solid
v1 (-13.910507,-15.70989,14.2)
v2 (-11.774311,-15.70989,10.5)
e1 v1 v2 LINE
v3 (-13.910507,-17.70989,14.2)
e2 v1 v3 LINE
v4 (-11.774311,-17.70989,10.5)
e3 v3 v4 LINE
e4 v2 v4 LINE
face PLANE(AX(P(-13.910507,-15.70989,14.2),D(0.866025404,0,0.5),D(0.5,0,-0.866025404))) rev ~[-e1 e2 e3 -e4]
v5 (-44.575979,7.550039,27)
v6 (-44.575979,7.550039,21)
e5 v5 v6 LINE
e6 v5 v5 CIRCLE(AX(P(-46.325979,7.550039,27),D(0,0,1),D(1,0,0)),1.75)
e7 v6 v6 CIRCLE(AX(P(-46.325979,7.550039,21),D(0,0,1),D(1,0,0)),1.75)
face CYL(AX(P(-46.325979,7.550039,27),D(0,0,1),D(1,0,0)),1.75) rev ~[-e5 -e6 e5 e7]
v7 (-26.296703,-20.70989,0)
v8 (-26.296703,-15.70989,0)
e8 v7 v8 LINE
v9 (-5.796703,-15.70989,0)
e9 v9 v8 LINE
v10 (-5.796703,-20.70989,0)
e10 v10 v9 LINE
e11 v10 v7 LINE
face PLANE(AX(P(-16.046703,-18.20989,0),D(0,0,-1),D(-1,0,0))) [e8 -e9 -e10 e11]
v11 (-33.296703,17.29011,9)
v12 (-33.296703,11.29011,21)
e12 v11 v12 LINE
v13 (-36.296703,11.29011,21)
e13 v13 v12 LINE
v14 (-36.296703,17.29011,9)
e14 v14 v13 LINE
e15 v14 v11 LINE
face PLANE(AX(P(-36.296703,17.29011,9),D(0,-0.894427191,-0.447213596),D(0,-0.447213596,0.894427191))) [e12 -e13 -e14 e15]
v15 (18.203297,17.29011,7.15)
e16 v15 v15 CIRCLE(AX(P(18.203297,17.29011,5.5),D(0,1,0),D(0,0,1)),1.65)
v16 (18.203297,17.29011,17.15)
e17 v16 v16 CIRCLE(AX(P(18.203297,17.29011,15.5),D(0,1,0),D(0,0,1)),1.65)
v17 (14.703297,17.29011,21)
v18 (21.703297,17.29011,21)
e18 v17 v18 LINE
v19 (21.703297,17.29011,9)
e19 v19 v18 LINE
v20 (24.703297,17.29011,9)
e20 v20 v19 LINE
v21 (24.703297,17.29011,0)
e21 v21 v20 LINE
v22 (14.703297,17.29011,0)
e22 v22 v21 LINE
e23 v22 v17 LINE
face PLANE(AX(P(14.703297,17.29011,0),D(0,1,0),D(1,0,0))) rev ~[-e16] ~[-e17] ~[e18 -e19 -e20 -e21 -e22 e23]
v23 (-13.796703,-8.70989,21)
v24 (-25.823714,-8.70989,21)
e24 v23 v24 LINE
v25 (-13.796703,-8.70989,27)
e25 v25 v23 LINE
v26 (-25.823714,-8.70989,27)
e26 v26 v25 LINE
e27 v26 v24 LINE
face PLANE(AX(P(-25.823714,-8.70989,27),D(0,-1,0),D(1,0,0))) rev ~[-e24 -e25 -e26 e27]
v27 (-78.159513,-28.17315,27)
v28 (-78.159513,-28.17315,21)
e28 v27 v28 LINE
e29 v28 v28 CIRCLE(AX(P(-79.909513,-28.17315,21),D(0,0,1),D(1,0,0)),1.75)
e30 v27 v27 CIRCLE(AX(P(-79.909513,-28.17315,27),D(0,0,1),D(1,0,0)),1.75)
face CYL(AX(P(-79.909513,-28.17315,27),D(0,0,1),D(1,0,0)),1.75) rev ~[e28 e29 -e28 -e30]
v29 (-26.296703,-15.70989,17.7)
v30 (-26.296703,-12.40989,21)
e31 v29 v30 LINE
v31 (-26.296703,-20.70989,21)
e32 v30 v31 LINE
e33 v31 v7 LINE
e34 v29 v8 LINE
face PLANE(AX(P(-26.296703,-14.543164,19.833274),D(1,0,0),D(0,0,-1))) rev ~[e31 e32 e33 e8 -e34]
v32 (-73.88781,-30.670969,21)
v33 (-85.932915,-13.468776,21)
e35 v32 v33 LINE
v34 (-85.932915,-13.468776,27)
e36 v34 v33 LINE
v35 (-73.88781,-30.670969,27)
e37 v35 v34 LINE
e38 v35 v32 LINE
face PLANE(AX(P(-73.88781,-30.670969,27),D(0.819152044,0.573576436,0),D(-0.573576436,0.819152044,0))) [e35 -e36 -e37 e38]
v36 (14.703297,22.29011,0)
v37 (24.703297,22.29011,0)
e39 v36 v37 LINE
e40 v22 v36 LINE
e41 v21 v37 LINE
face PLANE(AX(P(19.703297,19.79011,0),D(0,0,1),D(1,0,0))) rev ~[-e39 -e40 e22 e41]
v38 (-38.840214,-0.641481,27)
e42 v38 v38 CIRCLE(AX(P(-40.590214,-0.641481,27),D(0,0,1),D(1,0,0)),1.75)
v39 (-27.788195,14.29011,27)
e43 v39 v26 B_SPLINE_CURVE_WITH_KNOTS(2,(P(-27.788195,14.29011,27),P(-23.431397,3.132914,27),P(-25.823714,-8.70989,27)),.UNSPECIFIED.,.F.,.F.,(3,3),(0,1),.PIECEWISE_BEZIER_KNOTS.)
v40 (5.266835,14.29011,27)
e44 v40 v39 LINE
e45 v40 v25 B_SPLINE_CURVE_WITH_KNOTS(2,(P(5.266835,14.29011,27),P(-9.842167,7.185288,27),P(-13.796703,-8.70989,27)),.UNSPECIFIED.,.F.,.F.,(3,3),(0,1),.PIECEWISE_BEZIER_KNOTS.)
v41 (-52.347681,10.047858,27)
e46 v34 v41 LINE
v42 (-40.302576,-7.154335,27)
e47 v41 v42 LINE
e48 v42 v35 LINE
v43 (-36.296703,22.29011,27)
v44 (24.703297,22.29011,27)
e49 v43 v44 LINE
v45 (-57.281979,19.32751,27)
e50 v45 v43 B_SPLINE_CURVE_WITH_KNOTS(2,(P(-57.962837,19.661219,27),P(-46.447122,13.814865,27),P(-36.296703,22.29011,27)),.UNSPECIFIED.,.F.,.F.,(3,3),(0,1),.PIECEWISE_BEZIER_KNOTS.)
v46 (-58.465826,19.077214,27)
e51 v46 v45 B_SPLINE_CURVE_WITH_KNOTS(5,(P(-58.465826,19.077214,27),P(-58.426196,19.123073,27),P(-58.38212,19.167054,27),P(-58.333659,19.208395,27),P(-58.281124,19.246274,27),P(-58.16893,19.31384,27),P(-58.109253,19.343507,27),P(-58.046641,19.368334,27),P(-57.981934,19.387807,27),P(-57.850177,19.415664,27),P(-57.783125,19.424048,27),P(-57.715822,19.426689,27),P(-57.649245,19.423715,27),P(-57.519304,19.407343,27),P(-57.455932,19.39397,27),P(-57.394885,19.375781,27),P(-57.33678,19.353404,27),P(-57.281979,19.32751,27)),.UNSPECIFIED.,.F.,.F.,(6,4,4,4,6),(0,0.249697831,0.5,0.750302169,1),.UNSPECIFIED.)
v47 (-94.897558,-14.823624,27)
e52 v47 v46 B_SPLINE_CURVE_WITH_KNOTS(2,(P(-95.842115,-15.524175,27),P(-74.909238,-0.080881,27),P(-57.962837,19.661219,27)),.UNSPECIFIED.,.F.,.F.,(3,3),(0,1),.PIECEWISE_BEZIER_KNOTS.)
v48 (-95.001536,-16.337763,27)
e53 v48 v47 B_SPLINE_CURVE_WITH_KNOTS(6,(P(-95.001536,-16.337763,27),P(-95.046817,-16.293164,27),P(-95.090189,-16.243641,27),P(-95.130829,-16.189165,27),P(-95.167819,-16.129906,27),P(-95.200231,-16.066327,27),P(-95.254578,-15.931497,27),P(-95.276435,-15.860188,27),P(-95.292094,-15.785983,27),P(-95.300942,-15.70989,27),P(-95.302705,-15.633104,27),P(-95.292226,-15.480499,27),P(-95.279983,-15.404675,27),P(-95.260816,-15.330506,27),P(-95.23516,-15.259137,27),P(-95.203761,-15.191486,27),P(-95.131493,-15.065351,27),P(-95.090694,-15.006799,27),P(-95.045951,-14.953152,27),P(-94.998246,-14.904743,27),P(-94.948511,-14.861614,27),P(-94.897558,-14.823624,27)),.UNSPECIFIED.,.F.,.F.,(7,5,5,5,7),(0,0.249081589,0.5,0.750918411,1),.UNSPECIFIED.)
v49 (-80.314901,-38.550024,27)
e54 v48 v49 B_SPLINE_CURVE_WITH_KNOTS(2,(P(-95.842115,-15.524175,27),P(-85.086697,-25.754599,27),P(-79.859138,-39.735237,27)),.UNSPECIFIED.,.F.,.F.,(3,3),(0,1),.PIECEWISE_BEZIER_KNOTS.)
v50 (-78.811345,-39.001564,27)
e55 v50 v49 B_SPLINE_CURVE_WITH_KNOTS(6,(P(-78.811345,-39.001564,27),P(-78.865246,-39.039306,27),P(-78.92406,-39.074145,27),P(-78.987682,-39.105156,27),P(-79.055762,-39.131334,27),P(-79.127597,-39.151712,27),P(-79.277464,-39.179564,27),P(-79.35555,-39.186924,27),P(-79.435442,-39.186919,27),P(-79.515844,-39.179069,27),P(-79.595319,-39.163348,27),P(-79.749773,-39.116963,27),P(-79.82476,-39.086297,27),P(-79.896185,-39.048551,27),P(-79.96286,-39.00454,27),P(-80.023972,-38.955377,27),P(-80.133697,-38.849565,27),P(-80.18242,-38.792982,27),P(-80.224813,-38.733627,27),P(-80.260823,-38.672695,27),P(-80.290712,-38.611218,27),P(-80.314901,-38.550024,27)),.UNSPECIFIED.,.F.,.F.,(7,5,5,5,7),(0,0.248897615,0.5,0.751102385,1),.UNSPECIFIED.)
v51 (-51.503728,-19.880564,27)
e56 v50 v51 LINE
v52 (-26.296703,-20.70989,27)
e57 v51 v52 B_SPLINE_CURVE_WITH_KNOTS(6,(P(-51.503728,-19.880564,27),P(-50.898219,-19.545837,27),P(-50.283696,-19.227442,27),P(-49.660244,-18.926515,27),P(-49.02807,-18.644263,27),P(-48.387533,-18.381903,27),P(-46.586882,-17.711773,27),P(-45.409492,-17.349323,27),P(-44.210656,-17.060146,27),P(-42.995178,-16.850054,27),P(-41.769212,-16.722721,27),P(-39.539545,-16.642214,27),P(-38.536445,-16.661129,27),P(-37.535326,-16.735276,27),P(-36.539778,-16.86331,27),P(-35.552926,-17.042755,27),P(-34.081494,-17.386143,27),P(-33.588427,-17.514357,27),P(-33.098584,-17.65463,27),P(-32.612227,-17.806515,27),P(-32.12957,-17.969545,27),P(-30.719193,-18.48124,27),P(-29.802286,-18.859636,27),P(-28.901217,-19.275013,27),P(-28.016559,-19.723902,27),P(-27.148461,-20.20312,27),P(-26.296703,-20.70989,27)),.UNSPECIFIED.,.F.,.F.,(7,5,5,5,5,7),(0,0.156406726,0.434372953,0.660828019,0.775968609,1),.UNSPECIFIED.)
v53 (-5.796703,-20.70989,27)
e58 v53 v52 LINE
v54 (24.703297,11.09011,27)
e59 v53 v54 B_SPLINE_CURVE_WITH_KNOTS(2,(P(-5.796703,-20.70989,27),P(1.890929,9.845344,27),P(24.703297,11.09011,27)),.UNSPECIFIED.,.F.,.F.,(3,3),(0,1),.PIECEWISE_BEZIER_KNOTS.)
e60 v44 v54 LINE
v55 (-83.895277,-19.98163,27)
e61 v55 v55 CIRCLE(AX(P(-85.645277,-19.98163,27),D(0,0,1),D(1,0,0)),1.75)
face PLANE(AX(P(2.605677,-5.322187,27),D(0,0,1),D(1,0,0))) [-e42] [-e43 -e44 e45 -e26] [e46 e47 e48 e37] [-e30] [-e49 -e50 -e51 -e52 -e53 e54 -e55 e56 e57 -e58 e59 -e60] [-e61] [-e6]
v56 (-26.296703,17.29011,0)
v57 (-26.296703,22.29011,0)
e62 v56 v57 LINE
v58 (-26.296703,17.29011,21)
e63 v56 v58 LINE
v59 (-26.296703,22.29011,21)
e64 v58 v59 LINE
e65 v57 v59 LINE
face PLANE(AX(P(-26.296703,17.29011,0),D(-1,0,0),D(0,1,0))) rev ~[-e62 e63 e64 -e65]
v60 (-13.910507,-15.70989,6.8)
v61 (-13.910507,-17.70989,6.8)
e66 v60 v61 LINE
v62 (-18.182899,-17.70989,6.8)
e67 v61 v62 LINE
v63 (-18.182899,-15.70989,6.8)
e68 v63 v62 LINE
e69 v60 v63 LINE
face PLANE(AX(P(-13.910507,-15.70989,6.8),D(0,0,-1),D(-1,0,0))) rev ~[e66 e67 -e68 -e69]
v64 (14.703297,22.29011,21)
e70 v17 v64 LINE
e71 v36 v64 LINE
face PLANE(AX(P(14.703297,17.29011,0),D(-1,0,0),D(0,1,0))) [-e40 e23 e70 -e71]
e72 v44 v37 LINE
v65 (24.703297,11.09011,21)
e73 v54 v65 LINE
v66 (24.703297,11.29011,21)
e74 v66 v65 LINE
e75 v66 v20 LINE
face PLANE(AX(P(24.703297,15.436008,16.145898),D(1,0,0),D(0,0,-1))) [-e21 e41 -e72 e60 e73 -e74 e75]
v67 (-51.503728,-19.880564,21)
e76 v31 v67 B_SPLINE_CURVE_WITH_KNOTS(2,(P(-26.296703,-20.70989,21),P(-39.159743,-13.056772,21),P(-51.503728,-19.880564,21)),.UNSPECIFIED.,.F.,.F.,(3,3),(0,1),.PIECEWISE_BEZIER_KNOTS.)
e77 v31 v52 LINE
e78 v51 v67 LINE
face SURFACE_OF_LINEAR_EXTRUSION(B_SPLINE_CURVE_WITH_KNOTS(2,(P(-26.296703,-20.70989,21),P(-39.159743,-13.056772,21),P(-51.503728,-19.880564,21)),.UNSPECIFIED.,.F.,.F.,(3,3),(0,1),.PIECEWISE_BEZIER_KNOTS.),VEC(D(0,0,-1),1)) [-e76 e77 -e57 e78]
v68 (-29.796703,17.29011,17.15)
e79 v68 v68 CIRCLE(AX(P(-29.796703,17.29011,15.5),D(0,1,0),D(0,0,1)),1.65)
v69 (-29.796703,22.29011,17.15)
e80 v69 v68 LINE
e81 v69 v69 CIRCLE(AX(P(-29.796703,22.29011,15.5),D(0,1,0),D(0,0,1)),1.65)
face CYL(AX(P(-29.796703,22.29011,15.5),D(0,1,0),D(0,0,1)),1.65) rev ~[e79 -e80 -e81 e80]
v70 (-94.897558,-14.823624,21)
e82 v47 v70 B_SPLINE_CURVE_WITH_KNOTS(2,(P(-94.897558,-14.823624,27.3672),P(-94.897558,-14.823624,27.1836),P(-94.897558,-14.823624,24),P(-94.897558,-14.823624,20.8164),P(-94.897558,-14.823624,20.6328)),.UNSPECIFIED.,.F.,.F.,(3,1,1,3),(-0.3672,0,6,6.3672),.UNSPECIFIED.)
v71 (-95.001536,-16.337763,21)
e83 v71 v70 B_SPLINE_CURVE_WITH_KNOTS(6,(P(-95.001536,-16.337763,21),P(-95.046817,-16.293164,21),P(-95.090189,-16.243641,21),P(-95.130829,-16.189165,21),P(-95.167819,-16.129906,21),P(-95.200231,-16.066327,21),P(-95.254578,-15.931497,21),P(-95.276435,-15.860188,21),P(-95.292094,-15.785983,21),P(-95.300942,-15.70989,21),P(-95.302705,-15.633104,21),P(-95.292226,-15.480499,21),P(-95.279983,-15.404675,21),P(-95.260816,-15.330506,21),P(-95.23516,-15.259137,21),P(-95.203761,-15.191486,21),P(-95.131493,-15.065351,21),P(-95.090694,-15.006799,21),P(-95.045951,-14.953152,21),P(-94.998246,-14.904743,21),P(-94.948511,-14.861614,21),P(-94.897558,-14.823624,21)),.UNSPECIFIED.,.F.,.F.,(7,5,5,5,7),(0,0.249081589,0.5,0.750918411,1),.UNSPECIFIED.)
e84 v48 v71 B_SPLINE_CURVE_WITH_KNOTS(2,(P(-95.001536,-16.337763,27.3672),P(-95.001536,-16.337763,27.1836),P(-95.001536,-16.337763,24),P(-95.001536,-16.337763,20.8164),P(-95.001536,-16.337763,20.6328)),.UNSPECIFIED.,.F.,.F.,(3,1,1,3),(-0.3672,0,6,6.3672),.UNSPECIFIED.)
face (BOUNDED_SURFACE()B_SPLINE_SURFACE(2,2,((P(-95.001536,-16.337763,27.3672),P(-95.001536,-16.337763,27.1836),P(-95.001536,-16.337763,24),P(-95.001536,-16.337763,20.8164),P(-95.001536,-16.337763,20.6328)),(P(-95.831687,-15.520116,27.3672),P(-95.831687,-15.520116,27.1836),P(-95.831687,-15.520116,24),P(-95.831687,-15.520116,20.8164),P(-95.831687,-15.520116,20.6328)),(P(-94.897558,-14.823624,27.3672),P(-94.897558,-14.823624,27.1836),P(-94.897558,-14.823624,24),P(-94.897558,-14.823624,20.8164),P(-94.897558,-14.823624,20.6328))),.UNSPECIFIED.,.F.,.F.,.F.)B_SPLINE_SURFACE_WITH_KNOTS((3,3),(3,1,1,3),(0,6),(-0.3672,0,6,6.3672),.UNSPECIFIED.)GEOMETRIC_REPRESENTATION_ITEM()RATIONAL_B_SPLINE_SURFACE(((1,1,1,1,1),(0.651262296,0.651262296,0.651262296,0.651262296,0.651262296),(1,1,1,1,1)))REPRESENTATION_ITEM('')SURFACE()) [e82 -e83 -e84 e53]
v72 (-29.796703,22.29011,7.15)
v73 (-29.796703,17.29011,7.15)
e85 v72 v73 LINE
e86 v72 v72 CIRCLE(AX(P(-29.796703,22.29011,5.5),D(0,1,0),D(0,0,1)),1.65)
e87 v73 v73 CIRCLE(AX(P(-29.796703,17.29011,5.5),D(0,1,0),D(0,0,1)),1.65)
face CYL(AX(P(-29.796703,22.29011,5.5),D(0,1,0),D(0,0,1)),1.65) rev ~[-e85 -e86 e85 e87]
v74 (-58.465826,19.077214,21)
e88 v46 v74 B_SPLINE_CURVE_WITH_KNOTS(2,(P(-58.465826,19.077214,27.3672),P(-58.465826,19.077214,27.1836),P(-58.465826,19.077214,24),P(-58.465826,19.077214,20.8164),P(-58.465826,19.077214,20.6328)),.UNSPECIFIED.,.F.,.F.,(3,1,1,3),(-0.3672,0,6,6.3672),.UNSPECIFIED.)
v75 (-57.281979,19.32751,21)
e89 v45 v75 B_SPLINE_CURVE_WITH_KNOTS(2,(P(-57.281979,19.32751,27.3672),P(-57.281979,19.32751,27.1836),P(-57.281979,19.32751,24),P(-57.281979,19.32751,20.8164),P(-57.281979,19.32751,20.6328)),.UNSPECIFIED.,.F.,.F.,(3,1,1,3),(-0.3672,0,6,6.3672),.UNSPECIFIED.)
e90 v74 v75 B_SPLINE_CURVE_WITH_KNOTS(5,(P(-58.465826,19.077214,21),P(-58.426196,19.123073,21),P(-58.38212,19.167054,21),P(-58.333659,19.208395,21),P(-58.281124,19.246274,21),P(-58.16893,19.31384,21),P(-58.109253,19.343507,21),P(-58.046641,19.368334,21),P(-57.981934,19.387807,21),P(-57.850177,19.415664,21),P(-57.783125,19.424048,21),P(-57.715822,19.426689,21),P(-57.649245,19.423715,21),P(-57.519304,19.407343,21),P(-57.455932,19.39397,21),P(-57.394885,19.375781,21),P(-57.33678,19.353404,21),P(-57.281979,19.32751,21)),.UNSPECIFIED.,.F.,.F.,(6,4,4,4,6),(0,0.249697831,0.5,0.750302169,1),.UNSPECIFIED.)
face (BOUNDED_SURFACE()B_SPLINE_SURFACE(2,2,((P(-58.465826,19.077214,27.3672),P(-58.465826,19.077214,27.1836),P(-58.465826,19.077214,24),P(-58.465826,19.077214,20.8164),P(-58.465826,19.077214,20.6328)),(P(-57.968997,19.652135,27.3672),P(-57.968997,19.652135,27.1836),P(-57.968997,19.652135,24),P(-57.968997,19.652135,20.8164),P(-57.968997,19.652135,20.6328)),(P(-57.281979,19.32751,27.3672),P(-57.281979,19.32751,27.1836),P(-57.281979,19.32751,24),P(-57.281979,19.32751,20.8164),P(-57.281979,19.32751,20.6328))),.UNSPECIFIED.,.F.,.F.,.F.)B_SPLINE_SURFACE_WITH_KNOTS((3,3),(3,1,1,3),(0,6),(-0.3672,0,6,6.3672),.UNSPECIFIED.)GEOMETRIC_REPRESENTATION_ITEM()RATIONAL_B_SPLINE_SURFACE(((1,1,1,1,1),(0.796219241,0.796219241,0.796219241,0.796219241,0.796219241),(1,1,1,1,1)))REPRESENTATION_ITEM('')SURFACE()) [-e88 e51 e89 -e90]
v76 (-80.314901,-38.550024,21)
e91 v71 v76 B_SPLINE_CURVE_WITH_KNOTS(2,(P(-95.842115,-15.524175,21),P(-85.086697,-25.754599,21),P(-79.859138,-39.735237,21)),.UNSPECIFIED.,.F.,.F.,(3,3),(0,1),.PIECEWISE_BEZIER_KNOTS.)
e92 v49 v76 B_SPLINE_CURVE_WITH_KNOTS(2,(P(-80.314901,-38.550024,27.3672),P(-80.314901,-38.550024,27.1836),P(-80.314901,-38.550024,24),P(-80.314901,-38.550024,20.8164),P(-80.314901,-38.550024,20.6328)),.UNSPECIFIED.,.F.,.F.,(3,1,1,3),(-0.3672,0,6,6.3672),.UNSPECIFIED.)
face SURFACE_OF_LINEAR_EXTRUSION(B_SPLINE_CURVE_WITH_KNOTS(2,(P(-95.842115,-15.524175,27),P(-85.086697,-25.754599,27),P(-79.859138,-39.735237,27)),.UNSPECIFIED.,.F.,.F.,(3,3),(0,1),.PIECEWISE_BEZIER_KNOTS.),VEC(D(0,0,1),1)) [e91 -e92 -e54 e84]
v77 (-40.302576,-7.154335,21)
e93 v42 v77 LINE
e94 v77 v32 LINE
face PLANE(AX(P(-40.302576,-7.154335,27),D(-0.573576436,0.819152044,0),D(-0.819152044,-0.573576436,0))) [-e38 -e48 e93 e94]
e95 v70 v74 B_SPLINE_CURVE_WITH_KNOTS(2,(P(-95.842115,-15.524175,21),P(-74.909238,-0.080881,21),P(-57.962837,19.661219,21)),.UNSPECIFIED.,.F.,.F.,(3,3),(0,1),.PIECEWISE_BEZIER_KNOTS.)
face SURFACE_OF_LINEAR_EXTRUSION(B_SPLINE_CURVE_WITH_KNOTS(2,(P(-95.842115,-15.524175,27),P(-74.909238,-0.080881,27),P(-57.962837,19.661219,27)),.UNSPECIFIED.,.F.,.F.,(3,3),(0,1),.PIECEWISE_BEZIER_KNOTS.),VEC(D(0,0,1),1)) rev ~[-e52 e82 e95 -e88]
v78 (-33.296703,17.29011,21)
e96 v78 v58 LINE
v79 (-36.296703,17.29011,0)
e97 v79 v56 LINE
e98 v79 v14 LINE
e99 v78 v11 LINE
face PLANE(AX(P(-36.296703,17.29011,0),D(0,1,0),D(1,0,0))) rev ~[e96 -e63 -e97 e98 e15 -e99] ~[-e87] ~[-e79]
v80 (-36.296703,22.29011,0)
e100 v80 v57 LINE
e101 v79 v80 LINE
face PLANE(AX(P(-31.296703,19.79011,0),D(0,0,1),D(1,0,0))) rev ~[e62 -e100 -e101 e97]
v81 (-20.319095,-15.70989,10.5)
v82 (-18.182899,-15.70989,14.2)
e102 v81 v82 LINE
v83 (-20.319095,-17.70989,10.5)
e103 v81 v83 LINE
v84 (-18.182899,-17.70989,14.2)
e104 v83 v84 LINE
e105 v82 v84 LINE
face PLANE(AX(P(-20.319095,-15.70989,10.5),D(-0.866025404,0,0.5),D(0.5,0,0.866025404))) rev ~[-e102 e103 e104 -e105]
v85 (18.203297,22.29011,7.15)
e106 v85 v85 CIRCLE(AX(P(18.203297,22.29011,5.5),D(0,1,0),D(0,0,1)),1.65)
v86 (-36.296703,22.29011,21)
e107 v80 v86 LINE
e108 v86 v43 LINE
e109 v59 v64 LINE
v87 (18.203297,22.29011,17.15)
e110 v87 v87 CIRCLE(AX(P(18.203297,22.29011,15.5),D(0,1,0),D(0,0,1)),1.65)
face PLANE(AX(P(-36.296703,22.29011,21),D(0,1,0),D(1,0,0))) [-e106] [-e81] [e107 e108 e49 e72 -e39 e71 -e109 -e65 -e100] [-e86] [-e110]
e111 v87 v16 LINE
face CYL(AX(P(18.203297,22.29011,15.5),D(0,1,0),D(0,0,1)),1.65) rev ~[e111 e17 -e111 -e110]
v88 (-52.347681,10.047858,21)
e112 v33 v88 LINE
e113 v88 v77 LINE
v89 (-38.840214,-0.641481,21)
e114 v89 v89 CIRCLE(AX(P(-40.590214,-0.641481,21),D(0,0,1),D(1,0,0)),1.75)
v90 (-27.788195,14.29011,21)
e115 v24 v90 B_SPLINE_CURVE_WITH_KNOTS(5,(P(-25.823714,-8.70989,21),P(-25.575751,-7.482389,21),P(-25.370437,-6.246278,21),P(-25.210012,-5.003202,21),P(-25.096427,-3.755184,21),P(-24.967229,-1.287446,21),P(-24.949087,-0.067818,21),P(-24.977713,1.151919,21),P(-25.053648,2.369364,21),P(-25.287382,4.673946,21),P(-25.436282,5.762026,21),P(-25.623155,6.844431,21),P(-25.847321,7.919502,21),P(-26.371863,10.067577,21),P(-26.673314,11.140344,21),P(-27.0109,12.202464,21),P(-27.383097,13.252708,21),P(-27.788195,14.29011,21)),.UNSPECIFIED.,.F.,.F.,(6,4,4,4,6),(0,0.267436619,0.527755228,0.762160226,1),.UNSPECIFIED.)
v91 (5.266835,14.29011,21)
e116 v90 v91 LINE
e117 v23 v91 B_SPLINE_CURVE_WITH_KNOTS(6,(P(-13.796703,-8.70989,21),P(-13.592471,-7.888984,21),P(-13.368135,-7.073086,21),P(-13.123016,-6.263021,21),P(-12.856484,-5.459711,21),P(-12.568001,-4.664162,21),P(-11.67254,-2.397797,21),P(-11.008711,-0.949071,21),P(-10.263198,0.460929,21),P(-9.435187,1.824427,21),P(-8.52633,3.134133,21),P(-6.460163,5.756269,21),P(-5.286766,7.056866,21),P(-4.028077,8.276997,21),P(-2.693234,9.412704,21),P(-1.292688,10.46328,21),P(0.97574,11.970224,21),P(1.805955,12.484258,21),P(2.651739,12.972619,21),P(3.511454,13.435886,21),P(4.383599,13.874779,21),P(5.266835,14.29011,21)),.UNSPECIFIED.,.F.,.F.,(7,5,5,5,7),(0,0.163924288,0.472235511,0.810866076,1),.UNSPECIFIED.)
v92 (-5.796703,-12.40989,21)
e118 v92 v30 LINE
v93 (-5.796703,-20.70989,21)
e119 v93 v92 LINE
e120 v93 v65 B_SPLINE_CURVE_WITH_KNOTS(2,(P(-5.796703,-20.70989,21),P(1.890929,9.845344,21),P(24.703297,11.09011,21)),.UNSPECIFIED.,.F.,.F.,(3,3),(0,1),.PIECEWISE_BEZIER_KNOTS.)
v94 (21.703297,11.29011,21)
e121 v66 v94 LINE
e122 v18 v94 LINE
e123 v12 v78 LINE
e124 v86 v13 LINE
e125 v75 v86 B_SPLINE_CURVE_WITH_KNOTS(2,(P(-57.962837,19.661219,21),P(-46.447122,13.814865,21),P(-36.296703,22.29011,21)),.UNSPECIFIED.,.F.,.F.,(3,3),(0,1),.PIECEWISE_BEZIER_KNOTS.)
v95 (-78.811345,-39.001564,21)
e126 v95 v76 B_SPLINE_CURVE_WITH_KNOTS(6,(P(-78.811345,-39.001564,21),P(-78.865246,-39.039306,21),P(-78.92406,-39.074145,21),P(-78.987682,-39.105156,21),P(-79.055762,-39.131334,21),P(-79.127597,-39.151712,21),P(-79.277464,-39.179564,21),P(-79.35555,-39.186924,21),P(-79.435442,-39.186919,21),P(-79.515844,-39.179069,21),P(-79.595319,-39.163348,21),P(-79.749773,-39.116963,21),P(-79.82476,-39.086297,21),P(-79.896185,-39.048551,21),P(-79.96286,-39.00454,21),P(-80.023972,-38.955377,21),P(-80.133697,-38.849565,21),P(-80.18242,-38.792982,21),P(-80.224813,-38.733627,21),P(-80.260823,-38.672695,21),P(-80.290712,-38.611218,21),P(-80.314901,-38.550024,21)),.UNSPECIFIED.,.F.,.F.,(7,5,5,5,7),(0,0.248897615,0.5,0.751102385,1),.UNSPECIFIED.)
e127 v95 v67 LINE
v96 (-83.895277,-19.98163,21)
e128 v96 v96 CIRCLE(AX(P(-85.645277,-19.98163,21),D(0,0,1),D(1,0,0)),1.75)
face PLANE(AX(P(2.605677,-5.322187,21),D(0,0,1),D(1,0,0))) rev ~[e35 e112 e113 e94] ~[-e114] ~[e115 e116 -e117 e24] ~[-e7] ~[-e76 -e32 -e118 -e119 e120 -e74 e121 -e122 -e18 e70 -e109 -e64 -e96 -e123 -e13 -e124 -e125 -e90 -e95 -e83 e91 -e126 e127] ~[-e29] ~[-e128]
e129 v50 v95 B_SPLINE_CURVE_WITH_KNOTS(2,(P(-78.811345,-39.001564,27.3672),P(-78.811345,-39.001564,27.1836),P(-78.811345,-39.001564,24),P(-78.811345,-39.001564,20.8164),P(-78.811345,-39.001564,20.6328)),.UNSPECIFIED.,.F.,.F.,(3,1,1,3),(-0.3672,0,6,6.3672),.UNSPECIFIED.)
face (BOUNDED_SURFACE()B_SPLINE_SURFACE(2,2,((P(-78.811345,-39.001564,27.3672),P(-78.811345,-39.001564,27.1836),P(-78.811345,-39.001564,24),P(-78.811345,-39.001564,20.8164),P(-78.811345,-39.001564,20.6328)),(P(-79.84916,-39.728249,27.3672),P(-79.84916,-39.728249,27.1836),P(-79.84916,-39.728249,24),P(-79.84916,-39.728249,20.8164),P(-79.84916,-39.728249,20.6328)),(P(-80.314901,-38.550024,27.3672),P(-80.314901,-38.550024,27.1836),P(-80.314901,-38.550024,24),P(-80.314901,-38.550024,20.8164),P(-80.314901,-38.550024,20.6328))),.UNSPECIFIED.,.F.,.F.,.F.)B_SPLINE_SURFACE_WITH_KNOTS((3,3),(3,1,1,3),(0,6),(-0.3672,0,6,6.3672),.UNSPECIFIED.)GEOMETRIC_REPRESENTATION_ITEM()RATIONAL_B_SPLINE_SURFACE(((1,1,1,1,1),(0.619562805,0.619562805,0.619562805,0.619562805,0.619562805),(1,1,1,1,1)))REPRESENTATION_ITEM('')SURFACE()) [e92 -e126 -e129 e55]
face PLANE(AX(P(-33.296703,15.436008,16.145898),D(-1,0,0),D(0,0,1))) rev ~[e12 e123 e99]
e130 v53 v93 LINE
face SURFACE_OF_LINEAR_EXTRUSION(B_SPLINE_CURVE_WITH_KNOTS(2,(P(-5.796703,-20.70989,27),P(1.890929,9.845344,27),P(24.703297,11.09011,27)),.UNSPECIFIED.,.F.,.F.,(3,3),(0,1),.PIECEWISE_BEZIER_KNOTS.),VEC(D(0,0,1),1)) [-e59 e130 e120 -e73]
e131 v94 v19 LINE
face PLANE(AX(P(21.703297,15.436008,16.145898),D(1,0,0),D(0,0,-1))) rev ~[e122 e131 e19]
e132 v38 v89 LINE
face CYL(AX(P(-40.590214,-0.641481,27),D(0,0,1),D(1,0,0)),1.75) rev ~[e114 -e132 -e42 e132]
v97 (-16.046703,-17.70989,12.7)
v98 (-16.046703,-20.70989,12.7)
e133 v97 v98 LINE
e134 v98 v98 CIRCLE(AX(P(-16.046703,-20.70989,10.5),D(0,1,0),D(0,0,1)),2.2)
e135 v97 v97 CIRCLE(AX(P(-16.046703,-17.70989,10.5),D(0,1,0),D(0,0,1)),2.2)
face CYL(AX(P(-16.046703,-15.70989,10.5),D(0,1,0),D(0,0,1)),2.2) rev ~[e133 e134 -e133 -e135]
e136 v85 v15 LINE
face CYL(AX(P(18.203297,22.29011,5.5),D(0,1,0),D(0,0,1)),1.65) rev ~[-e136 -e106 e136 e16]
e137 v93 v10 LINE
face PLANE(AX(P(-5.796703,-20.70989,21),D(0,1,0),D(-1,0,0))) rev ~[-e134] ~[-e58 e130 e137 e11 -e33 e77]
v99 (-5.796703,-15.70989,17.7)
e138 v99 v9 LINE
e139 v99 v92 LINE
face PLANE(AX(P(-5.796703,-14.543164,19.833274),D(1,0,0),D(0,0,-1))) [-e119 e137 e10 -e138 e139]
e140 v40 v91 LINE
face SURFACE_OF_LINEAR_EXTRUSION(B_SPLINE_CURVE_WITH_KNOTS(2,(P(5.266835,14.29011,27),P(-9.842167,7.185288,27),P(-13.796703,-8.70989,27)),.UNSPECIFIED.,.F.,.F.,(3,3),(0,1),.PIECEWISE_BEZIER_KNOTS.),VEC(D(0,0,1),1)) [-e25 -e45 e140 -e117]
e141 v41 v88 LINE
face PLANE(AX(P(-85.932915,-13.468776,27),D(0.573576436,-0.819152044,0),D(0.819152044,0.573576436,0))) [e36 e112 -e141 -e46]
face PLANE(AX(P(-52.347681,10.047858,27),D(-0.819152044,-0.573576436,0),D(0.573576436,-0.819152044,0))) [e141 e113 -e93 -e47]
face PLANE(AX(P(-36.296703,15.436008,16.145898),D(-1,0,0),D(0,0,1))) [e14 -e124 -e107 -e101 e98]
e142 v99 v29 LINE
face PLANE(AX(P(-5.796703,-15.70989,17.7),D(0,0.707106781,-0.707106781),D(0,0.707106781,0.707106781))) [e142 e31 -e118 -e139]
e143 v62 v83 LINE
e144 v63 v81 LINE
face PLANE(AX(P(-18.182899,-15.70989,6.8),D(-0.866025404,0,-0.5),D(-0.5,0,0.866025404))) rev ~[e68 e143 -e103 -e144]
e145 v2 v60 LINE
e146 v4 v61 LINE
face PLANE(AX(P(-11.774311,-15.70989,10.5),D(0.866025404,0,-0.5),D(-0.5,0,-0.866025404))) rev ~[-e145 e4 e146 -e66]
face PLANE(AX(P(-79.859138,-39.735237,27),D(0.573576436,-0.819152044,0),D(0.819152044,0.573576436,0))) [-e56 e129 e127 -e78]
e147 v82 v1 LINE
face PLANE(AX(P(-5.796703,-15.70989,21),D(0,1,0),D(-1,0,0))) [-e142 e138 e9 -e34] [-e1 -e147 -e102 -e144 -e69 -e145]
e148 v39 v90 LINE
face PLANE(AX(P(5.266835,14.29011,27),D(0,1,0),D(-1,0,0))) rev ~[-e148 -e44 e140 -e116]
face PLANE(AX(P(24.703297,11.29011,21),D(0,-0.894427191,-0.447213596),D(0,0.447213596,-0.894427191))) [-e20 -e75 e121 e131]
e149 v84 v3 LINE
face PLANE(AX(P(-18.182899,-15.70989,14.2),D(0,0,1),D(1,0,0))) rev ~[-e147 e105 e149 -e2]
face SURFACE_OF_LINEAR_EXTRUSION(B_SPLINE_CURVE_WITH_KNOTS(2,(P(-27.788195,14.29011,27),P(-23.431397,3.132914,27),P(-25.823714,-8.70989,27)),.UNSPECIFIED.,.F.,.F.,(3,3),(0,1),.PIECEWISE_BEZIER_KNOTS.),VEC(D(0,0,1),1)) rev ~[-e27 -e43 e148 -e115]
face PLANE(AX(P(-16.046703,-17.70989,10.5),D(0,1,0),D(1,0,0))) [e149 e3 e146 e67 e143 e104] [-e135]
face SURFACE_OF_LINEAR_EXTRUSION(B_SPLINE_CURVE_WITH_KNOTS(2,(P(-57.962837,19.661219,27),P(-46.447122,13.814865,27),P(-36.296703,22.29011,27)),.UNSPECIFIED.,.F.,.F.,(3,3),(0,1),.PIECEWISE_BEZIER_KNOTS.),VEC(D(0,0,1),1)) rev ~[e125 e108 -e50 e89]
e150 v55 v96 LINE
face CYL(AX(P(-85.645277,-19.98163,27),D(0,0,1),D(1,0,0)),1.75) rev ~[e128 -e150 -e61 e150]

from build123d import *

# Parameters (mm, degrees)
SKETCH1_W             = 10
SKETCH1_H             = 5
BOSS_EXTRUDE1_DEPTH   = 21
BOSS_EXTRUDE1_2_DEPTH = 21
BOSS_EXTRUDE2_DEPTH   = 6
SKETCH3_W             = 20.5
SKETCH3_H             = 5
BOSS_EXTRUDE3_DEPTH   = 21
CUT_EXTRUDE1_REACH    = 64.414
SKETCH4_R             = 1.65
CUT_EXTRUDE2_REACH    = 61.08
SKETCH5_R             = 2.2
SKETCH6_R             = 1.75
BOSS_EXTRUDE4_DEPTH   = 6
CUT_EXTRUDE3_REACH    = 107.857
CUT_EXTRUDE7_REACH    = 109.208
BOSS_EXTRUDE5_DEPTH   = 6
BOSS_EXTRUDE6_DEPTH   = 3
BOSS_EXTRUDE7_DEPTH   = 3
BOSS_EXTRUDE8_DEPTH   = 20.5
CUT_EXTRUDE9_DEPTH    = 6
FILLET1_R             = 1
CUT_EXTRUDE10_DEPTH   = 2


with BuildPart() as part:
    # Sketch1 → Boss-Extrude1 (new body)
    with BuildSketch(Plane.XY):
        with Locations((-31.296703297, 19.79010989)):
            Rectangle(SKETCH1_W, SKETCH1_H)
    extrude(amount=BOSS_EXTRUDE1_DEPTH)



with BuildPart() as body_2:
    # Sketch1 → Boss-Extrude1 2 (new body)
    with BuildSketch(Plane.XY):
        with Locations((19.703296703, 19.79010989)):
            Rectangle(SKETCH1_W, SKETCH1_H)
    extrude(amount=BOSS_EXTRUDE1_2_DEPTH)


with BuildPart() as part_1:
    add(part.part)

    add(body_2.part)  # Boss-Extrude2 merges body 2
    # Sketch2 → Boss-Extrude2 (add)
    with BuildSketch(Plane.XY.offset(21)):
        Polygon((-36.296703297, 22.29010989), (24.703296703, 22.29010989), (24.703296703, 7.29010989), (12.703296703, 7.29010989), (-5.796703297, -11.20989011), (-5.796703297, -20.70989011), (-36.296703297, -20.70989011), align=None)
    extrude(amount=BOSS_EXTRUDE2_DEPTH)

    # Sketch3 → Boss-Extrude3 (add)
    with BuildSketch(Plane(origin=(0, 0, 21), x_dir=(-1, 0, 0), z_dir=(0, 0, -1))):
        with Locations((16.046703297, -18.20989011)):
            Rectangle(SKETCH3_W, SKETCH3_H)
    extrude(amount=BOSS_EXTRUDE3_DEPTH)

    # Sketch4 → Cut-Extrude1 (cut, up to next)
    with BuildSketch(Plane(origin=(0, 22.29010989, 0), x_dir=(1, 0, 0), z_dir=(0, 1, 0)), mode=Mode.PRIVATE) as cut_extrude1_sk1:
        with Locations(Location((-29.796703297, -5.5, 0), (0, 0, 270))):
            Circle(SKETCH4_R)
    cut_extrude1_tool1 = extrude(cut_extrude1_sk1.sketch, amount=-CUT_EXTRUDE1_REACH, mode=Mode.PRIVATE) & part_1.part
    # Sketch4 → Cut-Extrude1 (cut, up to next)
    with BuildSketch(Plane(origin=(0, 22.29010989, 0), x_dir=(1, 0, 0), z_dir=(0, 1, 0)), mode=Mode.PRIVATE) as cut_extrude1_sk2:
        with Locations(Location((18.203296703, -5.5, 0), (0, 0, 270))):
            Circle(SKETCH4_R)
    cut_extrude1_tool2 = extrude(cut_extrude1_sk2.sketch, amount=-CUT_EXTRUDE1_REACH, mode=Mode.PRIVATE) & part_1.part
    # Sketch4 → Cut-Extrude1 (cut, up to next)
    with BuildSketch(Plane(origin=(0, 22.29010989, 0), x_dir=(1, 0, 0), z_dir=(0, 1, 0)), mode=Mode.PRIVATE) as cut_extrude1_sk3:
        with Locations(Location((18.203296703, -15.5, 0), (0, 0, 270))):
            Circle(SKETCH4_R)
    cut_extrude1_tool3 = extrude(cut_extrude1_sk3.sketch, amount=-CUT_EXTRUDE1_REACH, mode=Mode.PRIVATE) & part_1.part
    # Sketch4 → Cut-Extrude1 (cut, up to next)
    with BuildSketch(Plane(origin=(0, 22.29010989, 0), x_dir=(1, 0, 0), z_dir=(0, 1, 0)), mode=Mode.PRIVATE) as cut_extrude1_sk4:
        with Locations(Location((-29.796703297, -15.5, 0), (0, 0, 270))):
            Circle(SKETCH4_R)
    cut_extrude1_tool4 = extrude(cut_extrude1_sk4.sketch, amount=-CUT_EXTRUDE1_REACH, mode=Mode.PRIVATE) & part_1.part
    add(cut_extrude1_tool1.solids().sort_by_distance((-29.796703, 22.29011, 5.5))[0], mode=Mode.SUBTRACT)
    add(cut_extrude1_tool2.solids().sort_by_distance((18.203297, 22.29011, 5.5))[0], mode=Mode.SUBTRACT)
    add(cut_extrude1_tool3.solids().sort_by_distance((18.203297, 22.29011, 15.5))[0], mode=Mode.SUBTRACT)
    add(cut_extrude1_tool4.solids().sort_by_distance((-29.796703, 22.29011, 15.5))[0], mode=Mode.SUBTRACT)

    # Sketch5 → Cut-Extrude2 (cut, up to next)
    with BuildSketch(Plane(origin=(0, -15.70989011, 0), x_dir=(1, 0, 0), z_dir=(0, 1, 0)), mode=Mode.PRIVATE) as cut_extrude2_sk1:
        with Locations(Location((-16.046703297, -10.5, 0), (0, 0, 270))):
            Circle(SKETCH5_R)
    cut_extrude2_tool1 = extrude(cut_extrude2_sk1.sketch, amount=-CUT_EXTRUDE2_REACH, mode=Mode.PRIVATE) & part_1.part
    add(cut_extrude2_tool1.solids().sort_by_distance((-16.046703, -15.70989, 10.5))[0], mode=Mode.SUBTRACT)

    # Sketch6 → Boss-Extrude4 (add)
    with BuildSketch(Plane.XY.offset(27)):
        with BuildLine():
            Line((-79.859138265, -39.735236509), (-51.503727763, -19.880564327))
            add(Edge.make_bspline(
                [(-51.503727763, -19.880564327), (-43.777944292, -18.491061957), (-36.296703297, -20.70989011)],
                knots=[0, 0, 0, 1, 1, 1], degree=2))
            Line((-36.296703297, -20.70989011), (-36.296703297, 22.29010989))
            add(Edge.make_bspline(
                [(-57.962836939, 19.661219133), (-46.447122218, 13.814864777), (-36.296703297, 22.29010989)],
                knots=[0, 0, 0, 1, 1, 1], degree=2))
            add(Edge.make_bspline(
                [(-95.842115451, -15.524174544), (-74.909238175, -0.080881368), (-57.962836939, 19.661219133)],
                knots=[0, 0, 0, 1, 1, 1], degree=2))
            add(Edge.make_bspline(
                [(-95.842115451, -15.524174544), (-85.086697095, -25.754599345), (-79.859138265, -39.735236509)],
                knots=[0, 0, 0, 1, 1, 1], degree=2))
        make_face()
        with Locations((-40.590214383, -0.641481396)):
            Circle(SKETCH6_R, mode=Mode.SUBTRACT)
        with Locations((-85.645276872, -19.981629898)):
            Circle(SKETCH6_R, mode=Mode.SUBTRACT)
        with Locations((-79.909512508, -28.173150341)):
            Circle(SKETCH6_R, mode=Mode.SUBTRACT)
        with Locations((-46.325978746, 7.550039047)):
            Circle(SKETCH6_R, mode=Mode.SUBTRACT)
        Polygon((-85.932915117, -13.468776127), (-52.347681301, 10.047857763), (-40.302576138, -7.154335167), (-73.887809953, -30.670969058), align=None, mode=Mode.SUBTRACT)
    extrude(amount=-BOSS_EXTRUDE4_DEPTH)

    # Sketch7 → Cut-Extrude3 (cut, up to next)
    with BuildSketch(Plane(origin=(0, 0, 21), x_dir=(-1, 0, 0), z_dir=(0, 0, -1)), mode=Mode.PRIVATE) as cut_extrude3_sk1:
        with BuildLine():
            Line((36.296703297, -20.70989011), (26.296703297, -20.70989011))
            add(Edge.make_bspline(
                [(26.296703297, -20.70989011), (39.15974316, -13.056772406), (51.503727763, -19.880564327)],
                knots=[0, 0, 0, 1, 1, 1], degree=2))
            add(Edge.make_bspline(
                [(51.503727763, -19.880564327), (43.777944292, -18.491061957), (36.296703297, -20.70989011)],
                knots=[0, 0, 0, 1, 1, 1], degree=2))
        make_face()
    cut_extrude3_tool1 = extrude(cut_extrude3_sk1.sketch, amount=-CUT_EXTRUDE3_REACH, mode=Mode.PRIVATE) & part_1.part
    add(cut_extrude3_tool1.solids().sort_by_distance((-38.072503, -18.786508, 21))[0], mode=Mode.SUBTRACT)

    # Sketch10 → Cut-Extrude7 (cut, up to next)
    with BuildSketch(Plane.XY.offset(27), mode=Mode.PRIVATE) as cut_extrude7_sk1:
        with BuildLine():
            Line((5.266834936, 14.29010989), (-27.788194587, 14.29010989))
            add(Edge.make_bspline(
                [(-27.788194587, 14.29010989), (-23.431396766, 3.132914333), (-25.823714091, -8.70989011)],
                knots=[0, 0, 0, 1, 1, 1], degree=2))
            Line((-25.823714091, -8.70989011), (-13.796703297, -8.70989011))
            add(Edge.make_bspline(
                [(5.266834936, 14.29010989), (-9.842167425, 7.185288479), (-13.796703297, -8.70989011)],
                knots=[0, 0, 0, 1, 1, 1], degree=2))
        make_face()
    cut_extrude7_tool1 = extrude(cut_extrude7_sk1.sketch, amount=-CUT_EXTRUDE7_REACH, mode=Mode.PRIVATE) & part_1.part
    add(cut_extrude7_tool1.solids().sort_by_distance((-15.764918, 4.836925, 27))[0], mode=Mode.SUBTRACT)

    # Sketch11 → Boss-Extrude5 (add)
    with BuildSketch(Plane.XY.offset(27)):
        with BuildLine():
            Line((15.119169314, 7.29010989), (12.703296703, 7.29010989))
            Line((12.703296703, 7.29010989), (-5.796703297, -11.20989011))
            Line((-5.796703297, -11.20989011), (-5.796703297, -20.70989011))
            add(Edge.make_bspline(
                [(-5.796703297, -20.70989011), (-0.06692684, -3.022661062), (15.119169314, 7.29010989)],
                knots=[0, 0, 0, 1, 1, 1], degree=2))
        make_face()
    extrude(amount=-BOSS_EXTRUDE5_DEPTH)

    # Sketch12 → Boss-Extrude6 (add)
    with BuildSketch(Plane(origin=(24.703296703, 0, 0), x_dir=(0, 0, -1), z_dir=(1, 0, 0))):
        Polygon((-21, 11.29010989), (-9, 17.29010989), (-21, 17.29010989), align=None)
    extrude(amount=-BOSS_EXTRUDE6_DEPTH)

    # Sketch13 → Boss-Extrude7 (add)
    with BuildSketch(Plane.ZY.offset(36.296703297)):
        Polygon((21, 11.29010989), (21, 17.29010989), (9, 17.29010989), align=None)
    extrude(amount=-BOSS_EXTRUDE7_DEPTH)

    # Sketch14 → Boss-Extrude8 (add)
    with BuildSketch(Plane(origin=(-5.796703297, 0, 0), x_dir=(0, 0, -1), z_dir=(1, 0, 0))):
        Polygon((-17.7, -15.70989011), (-21, -12.40989011), (-21, -15.70989011), align=None)
    extrude(amount=-BOSS_EXTRUDE8_DEPTH)

    # Sketch15 → Cut-Extrude9 (cut)
    with BuildSketch(Plane.XY.offset(27)):
        with BuildLine():
            Line((24.703296703, 7.29010989), (24.703296703, 11.09010989))
            add(Edge.make_bspline(
                [(-5.796703297, -20.70989011), (1.890928929, 9.845343686), (24.703296703, 11.09010989)],
                knots=[0, 0, 0, 1, 1, 1], degree=2))
            add(Edge.make_bspline(
                [(-5.796703297, -20.70989011), (-0.06692684, -3.022661062), (15.119169314, 7.29010989)],
                knots=[0, 0, 0, 1, 1, 1], degree=2))
            Line((15.119169314, 7.29010989), (24.703296703, 7.29010989))
        make_face()
    extrude(amount=-CUT_EXTRUDE9_DEPTH, mode=Mode.SUBTRACT)

    # Fillet1
    fillet1_edges = [part_1.edges().sort_by_distance(p)[0] for p in [
        (-95.842115451, -15.524174544, 24),
        (-57.962836939, 19.661219133, 24),
        (-79.859138265, -39.735236509, 24),
    ]]
    fillet(fillet1_edges, radius=FILLET1_R)

    # Sketch16 → Cut-Extrude10 (cut)
    with BuildSketch(Plane(origin=(0, -15.70989011, 0), x_dir=(1, 0, 0), z_dir=(0, 1, 0))):
        Polygon((-13.910507301, -6.8), (-18.182899293, -6.8), (-20.319095289, -10.5), (-18.182899293, -14.2), (-13.910507301, -14.2), (-11.774311305, -10.5), align=None)
    extrude(amount=-CUT_EXTRUDE10_DEPTH, mode=Mode.SUBTRACT)


solid = part_1.part
